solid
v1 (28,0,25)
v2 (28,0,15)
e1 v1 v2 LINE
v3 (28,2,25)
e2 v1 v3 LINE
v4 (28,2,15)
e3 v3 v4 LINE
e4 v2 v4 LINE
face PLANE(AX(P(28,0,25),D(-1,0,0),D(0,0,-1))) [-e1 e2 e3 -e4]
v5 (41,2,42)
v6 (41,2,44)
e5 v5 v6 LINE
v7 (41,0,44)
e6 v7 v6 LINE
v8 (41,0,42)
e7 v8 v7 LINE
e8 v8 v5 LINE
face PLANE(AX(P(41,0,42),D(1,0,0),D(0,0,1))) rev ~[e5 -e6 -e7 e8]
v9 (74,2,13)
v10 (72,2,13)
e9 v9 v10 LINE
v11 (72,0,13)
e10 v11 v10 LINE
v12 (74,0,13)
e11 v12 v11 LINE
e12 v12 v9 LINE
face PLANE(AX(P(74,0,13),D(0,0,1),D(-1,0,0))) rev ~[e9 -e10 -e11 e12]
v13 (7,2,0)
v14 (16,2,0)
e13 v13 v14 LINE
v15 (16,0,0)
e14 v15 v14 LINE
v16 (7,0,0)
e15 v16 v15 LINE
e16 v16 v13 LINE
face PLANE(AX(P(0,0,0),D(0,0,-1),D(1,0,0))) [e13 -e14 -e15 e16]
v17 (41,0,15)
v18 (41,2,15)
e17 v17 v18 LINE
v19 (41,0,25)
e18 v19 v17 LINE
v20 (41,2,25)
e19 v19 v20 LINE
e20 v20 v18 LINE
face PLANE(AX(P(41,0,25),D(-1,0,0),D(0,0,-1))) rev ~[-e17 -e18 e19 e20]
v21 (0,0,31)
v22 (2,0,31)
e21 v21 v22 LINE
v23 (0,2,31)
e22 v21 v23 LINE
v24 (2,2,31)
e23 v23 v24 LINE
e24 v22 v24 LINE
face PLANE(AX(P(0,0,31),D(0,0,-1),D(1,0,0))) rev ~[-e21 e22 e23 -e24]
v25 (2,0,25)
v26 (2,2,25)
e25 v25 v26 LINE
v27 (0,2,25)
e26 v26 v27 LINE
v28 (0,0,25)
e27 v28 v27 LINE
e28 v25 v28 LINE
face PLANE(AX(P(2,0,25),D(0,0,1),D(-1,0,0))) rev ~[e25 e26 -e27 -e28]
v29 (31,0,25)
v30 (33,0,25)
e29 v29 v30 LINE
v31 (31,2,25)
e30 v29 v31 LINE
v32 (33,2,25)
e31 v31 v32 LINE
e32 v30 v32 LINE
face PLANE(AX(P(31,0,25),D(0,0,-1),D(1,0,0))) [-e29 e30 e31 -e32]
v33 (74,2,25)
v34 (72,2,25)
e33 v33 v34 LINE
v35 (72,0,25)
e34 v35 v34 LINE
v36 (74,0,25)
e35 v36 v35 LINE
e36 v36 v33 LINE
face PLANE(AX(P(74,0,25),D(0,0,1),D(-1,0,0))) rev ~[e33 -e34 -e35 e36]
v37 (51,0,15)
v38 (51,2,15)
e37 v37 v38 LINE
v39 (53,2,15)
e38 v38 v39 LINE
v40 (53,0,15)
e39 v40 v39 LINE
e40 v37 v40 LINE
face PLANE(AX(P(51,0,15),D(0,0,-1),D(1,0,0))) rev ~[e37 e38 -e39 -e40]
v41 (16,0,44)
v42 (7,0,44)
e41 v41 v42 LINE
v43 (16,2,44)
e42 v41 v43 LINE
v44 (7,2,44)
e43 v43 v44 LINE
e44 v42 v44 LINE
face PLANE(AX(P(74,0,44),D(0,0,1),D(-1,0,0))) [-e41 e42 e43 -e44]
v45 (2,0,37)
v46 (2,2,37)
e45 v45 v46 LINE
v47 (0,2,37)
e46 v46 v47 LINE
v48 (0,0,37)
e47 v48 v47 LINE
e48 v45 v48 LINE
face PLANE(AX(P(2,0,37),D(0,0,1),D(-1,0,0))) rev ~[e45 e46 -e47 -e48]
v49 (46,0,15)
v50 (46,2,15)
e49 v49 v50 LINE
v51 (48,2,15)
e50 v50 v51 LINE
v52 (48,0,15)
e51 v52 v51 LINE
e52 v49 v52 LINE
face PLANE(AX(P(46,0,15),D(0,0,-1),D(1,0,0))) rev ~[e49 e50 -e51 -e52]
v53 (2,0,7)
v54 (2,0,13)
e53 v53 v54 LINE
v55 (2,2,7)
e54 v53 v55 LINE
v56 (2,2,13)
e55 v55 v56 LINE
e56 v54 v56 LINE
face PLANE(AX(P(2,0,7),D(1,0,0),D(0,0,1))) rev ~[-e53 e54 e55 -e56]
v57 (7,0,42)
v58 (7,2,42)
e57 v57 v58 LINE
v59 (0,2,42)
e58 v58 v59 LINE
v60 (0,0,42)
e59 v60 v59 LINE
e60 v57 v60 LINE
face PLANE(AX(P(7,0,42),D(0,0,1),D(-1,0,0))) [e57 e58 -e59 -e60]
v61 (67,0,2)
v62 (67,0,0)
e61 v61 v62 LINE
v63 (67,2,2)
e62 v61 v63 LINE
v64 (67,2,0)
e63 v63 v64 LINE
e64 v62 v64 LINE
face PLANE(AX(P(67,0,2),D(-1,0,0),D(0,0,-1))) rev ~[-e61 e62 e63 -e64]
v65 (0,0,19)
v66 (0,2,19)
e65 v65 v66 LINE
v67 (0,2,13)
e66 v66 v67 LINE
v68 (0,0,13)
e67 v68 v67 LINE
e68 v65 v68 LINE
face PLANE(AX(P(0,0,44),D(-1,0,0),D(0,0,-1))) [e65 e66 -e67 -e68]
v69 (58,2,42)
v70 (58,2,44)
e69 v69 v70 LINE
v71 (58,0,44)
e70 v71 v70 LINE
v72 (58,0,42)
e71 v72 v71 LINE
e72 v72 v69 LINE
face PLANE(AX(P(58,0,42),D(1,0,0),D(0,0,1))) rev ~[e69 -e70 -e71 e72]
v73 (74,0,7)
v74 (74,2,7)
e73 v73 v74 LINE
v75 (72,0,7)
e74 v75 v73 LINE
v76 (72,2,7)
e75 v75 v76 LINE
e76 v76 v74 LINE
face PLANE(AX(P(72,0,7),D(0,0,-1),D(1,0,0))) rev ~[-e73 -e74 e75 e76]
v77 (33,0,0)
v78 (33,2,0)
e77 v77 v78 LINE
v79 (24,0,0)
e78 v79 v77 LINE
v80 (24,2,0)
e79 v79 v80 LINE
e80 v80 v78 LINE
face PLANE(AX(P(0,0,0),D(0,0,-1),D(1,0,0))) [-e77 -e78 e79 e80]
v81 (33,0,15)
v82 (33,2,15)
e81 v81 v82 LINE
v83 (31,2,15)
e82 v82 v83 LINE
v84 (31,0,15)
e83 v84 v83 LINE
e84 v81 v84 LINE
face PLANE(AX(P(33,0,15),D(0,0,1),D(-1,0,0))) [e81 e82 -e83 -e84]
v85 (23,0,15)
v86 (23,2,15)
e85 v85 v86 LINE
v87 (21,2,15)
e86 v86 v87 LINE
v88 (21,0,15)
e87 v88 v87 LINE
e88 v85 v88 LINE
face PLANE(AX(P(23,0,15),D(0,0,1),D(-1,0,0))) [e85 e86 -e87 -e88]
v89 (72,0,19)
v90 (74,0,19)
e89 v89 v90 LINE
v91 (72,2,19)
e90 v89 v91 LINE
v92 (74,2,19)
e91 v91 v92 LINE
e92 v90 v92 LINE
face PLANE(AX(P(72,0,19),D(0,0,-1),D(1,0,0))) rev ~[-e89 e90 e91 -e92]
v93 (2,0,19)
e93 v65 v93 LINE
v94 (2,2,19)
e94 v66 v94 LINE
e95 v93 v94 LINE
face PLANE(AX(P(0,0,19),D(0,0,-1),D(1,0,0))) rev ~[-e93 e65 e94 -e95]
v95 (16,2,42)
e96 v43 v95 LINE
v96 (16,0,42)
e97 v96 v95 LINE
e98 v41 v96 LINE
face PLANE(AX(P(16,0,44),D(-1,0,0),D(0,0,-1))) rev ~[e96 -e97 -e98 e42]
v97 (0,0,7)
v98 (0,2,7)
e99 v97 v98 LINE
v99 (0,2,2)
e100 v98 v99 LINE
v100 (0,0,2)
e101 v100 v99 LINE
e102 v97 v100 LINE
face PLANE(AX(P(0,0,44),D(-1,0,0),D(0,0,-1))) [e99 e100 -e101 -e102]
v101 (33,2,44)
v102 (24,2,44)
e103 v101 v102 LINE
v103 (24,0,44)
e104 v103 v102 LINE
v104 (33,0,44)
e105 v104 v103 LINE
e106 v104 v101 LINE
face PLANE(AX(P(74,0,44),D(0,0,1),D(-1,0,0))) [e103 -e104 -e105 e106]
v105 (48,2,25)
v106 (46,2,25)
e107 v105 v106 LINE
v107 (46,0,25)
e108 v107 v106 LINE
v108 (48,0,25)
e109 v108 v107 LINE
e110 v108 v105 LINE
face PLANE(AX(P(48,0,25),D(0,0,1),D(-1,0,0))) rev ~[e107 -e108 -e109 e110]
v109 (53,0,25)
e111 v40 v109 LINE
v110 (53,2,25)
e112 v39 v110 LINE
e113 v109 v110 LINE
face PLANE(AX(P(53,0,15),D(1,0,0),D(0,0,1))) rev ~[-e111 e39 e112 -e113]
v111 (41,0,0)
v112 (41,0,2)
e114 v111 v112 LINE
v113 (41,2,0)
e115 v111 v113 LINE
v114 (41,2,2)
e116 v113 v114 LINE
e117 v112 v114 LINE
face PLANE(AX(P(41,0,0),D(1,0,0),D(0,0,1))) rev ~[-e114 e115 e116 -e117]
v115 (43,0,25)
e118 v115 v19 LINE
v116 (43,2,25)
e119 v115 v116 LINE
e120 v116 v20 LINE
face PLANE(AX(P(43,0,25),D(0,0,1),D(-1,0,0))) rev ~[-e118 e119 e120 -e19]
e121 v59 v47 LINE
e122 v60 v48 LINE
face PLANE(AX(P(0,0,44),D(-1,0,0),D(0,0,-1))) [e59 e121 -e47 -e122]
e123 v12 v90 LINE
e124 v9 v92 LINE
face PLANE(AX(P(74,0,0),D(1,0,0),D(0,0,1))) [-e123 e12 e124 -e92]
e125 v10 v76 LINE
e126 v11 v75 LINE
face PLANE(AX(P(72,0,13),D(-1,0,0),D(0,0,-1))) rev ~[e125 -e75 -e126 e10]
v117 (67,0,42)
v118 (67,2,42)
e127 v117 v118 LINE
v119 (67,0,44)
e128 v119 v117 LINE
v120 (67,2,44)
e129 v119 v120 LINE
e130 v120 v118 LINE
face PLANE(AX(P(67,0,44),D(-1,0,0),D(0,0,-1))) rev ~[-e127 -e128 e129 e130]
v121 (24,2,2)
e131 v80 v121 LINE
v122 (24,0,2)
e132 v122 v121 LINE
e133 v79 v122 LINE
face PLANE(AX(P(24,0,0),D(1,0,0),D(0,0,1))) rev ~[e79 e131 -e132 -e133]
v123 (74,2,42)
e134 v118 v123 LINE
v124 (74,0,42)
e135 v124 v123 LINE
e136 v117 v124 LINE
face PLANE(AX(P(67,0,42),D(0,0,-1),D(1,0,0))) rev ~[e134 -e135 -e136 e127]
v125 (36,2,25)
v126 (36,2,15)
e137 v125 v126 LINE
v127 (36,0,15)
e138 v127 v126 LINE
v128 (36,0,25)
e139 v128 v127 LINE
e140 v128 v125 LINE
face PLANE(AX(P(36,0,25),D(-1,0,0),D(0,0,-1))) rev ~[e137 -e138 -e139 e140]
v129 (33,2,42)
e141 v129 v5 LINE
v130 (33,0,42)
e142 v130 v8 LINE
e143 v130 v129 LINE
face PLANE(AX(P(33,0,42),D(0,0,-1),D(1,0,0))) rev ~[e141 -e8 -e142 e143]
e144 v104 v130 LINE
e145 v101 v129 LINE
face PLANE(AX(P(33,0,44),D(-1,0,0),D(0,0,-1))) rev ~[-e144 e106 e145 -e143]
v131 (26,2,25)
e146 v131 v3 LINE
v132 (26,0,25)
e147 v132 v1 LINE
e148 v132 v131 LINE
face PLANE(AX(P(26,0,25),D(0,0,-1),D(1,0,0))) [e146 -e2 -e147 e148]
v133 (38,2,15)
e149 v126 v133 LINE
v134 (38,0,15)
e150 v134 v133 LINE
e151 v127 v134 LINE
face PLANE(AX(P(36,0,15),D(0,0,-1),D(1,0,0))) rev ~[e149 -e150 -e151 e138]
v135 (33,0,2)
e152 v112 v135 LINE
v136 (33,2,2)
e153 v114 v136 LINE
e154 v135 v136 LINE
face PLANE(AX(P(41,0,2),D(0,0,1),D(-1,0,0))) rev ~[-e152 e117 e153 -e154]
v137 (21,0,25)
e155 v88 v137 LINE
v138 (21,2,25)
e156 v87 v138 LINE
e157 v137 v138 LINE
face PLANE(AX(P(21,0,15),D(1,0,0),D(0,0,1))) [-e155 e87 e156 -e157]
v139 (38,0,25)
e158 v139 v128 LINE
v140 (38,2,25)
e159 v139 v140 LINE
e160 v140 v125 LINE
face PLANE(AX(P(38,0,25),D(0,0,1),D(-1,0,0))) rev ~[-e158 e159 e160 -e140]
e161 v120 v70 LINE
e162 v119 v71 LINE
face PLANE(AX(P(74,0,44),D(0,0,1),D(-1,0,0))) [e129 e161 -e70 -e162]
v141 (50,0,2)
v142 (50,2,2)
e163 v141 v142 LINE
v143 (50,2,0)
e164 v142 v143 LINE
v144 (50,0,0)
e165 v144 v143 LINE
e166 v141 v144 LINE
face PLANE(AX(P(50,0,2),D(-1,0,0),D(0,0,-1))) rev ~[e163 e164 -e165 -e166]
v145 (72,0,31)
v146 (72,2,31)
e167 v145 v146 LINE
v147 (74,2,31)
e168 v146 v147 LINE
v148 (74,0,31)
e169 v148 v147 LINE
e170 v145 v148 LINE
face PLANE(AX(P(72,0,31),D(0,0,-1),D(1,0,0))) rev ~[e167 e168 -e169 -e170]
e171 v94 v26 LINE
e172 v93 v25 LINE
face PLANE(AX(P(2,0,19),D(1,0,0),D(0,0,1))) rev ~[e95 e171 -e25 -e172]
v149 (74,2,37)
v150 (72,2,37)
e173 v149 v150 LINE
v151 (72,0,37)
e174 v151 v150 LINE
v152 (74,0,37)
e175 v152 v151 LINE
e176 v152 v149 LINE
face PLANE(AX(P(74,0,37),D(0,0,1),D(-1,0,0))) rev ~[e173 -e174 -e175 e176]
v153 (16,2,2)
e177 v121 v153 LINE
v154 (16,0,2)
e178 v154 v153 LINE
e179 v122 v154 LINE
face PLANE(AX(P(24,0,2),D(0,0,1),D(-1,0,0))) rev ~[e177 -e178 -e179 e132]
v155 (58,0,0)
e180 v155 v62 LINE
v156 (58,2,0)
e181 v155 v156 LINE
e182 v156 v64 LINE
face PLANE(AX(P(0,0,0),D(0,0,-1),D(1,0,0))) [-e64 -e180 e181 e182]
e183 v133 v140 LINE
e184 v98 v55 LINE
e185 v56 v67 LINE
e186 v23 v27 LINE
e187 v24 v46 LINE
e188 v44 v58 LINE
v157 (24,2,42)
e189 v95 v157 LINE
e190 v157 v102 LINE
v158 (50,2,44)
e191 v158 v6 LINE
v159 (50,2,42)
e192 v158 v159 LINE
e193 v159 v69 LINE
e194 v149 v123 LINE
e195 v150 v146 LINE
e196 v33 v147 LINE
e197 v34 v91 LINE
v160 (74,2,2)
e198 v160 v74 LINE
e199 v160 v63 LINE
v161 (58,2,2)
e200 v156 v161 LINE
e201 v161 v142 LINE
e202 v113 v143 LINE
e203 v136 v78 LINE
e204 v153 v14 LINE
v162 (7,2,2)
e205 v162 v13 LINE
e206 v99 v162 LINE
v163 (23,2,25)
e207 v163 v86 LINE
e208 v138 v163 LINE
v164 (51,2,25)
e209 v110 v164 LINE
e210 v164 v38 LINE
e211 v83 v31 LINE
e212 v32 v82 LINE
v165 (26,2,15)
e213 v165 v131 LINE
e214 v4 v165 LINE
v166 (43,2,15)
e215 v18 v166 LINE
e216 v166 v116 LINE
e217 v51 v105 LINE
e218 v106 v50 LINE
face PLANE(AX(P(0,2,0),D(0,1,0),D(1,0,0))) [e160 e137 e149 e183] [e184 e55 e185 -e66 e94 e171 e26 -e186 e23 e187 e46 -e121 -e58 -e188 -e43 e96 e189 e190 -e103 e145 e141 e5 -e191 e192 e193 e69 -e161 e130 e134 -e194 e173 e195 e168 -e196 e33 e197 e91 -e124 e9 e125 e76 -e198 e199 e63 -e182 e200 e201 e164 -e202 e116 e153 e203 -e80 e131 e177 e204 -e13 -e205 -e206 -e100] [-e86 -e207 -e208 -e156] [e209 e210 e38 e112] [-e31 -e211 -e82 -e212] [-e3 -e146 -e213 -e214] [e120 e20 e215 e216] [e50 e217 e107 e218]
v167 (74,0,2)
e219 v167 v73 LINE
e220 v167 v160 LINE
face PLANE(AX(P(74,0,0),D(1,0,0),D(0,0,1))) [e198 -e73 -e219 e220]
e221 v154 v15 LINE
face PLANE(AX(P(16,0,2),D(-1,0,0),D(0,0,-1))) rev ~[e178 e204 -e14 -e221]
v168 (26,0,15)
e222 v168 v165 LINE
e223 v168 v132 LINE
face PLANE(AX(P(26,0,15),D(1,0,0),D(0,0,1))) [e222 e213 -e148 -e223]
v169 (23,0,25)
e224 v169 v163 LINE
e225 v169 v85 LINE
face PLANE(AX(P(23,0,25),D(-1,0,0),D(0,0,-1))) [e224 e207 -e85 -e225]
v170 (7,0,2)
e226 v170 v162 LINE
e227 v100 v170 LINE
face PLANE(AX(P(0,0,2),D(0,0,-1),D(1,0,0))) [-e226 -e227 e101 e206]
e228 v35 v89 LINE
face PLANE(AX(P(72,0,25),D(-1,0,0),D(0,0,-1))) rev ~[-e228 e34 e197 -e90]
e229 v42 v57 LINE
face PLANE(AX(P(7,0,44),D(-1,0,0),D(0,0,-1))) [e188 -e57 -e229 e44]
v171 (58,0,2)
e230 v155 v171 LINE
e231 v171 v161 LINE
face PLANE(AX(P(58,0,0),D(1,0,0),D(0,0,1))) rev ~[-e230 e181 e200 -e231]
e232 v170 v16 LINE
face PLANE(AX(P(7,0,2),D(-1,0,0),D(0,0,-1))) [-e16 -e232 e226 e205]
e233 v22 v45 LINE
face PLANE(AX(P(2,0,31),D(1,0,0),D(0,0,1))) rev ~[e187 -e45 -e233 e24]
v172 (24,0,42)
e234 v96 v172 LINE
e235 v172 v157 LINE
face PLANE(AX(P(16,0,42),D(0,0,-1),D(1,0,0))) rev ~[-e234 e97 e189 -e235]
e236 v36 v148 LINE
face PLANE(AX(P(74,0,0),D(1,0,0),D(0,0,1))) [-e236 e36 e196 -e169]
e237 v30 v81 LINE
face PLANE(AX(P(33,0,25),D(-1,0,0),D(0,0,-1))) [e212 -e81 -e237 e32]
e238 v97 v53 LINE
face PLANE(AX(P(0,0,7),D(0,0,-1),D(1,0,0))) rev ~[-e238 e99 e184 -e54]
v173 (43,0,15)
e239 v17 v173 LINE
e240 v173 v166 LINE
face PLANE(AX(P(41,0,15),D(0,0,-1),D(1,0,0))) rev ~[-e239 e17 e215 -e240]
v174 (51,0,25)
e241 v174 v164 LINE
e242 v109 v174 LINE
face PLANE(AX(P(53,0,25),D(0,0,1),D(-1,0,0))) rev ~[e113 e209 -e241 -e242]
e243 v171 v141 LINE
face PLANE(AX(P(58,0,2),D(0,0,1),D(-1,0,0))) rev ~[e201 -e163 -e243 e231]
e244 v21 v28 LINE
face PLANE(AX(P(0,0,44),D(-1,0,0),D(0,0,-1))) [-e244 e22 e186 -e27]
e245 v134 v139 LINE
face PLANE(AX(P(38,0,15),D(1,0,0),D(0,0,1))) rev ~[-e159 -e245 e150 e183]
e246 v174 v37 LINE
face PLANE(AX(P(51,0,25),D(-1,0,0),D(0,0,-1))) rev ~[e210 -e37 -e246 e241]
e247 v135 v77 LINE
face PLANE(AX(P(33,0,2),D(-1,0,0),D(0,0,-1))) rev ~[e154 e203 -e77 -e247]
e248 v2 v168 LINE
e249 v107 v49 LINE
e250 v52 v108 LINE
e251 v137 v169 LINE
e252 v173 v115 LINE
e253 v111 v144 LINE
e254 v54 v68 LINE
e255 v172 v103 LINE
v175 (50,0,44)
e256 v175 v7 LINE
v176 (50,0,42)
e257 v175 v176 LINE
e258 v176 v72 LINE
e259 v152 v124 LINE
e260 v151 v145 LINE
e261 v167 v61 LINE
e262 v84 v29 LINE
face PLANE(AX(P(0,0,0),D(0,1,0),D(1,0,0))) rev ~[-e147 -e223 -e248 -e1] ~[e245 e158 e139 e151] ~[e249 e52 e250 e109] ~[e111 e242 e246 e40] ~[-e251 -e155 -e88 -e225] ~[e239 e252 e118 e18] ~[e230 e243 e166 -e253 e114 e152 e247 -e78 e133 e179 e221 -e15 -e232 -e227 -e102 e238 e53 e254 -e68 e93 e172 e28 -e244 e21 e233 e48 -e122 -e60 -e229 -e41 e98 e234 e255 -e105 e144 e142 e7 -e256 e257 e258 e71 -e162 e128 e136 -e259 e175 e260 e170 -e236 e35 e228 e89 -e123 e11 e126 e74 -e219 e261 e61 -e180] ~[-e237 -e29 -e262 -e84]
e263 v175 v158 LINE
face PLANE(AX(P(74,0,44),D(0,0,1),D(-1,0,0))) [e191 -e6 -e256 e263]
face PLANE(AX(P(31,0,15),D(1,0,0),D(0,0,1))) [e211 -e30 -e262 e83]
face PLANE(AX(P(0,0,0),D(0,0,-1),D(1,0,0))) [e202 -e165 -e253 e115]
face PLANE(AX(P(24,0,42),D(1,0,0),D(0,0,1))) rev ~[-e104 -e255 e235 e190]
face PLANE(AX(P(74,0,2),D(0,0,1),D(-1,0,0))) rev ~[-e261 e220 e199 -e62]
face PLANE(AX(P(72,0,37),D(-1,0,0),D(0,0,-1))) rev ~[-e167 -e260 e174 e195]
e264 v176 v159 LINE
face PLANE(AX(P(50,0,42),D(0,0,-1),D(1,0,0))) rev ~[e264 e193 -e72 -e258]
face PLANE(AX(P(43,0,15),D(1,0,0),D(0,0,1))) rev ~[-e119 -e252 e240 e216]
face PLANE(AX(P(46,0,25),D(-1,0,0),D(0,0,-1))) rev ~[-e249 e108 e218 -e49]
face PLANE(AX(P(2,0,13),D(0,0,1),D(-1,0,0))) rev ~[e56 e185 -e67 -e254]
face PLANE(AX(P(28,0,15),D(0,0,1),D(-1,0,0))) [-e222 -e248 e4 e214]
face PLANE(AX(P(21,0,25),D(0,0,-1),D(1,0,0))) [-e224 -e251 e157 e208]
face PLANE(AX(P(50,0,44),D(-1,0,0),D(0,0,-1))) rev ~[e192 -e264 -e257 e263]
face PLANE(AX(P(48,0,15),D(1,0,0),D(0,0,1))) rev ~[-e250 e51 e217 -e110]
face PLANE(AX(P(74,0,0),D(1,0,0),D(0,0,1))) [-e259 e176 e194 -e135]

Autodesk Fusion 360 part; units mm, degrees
sketch "スケッチ1" plane through (0, 0, 0) normal (0, 1, 0) x (1, 0, 0)
  line L0 (0, 0) -> (74, 0)
  line L1 (74, 0) -> (74, -44)
  line L2 (74, -44) -> (0, -44)
  line L3 (0, -44) -> (0, 0)
  dimension "d1" = 74
  dimension "d2" = 44
extrude "押し出し1" add sketch "スケッチ1" along normal blind 2
sketch "スケッチ2" plane through (0, 0, 0) normal (0, -1, 0) x (1, 0, 0)
  line L0 (74, 44) -> (0, 44)
  line L1 (0, 44) -> (0, 0)
  line L2 (0, 0) -> (74, 0)
  line L3 (74, 0) -> (74, 44)
  line L4 (0, 44) -> (7, 44)
  line L5 (7, 44) -> (7, 42)
  line L6 (7, 42) -> (0, 42)
  line L7 (0, 42) -> (0, 44)
  line L8 (16, 42) -> (24, 42)
  line L9 (24, 42) -> (24, 44)
  line L10 (24, 44) -> (16, 44)
  line L11 (16, 44) -> (16, 42)
  line L12 (41, 44) -> (33, 44)
  line L13 (33, 42) -> (41, 42)
  line L14 (41, 42) -> (41, 44)
  line L15 (33, 44) -> (33, 42)
  line L16 (58, 44) -> (50, 44)
  line L17 (50, 42) -> (58, 42)
  line L18 (58, 42) -> (58, 44)
  line L19 (50, 44) -> (50, 42)
  line L20 (67, 42) -> (74, 42)
  line L21 (74, 42) -> (74, 44)
  line L22 (74, 44) -> (67, 44)
  line L23 (67, 44) -> (67, 42)
  line L24 (50, 2) -> (50, 0)
  line L25 (67, 2) -> (67, 0)
  line L26 (16, 0) -> (24, 0)
  line L27 (50, 0) -> (58, 0)
  line L28 (0, 2) -> (7, 2)
  line L29 (67, 0) -> (74, 0)
  line L30 (58, 0) -> (58, 2)
  line L31 (24, 2) -> (16, 2)
  line L32 (33, 2) -> (33, 0)
  line L33 (58, 2) -> (50, 2)
  line L34 (33, 0) -> (41, 0)
  line L35 (0, 0) -> (0, 2)
  line L36 (24, 0) -> (24, 2)
  line L37 (74, 2) -> (67, 2)
  line L38 (7, 2) -> (7, 0)
  line L39 (41, 0) -> (41, 2)
  line L40 (16, 2) -> (16, 0)
  line L41 (74, 0) -> (74, 2)
  line L42 (7, 0) -> (0, 0)
  line L43 (41, 2) -> (33, 2)
  dimension "d5" = 7
  dimension "d6" = 2
  dimension "d7" = 2
  dimension "d8" = 8
  dimension "d9" = 9
  dimension "d12" = 17
  dimension "d13" = 0
  dimension "d14" = 7
  dimension "d15" = 2
  dimension "d16" = 9
extrude "押し出し2" cut sketch "スケッチ2" against normal blind 2 contours L0 L3 L20 L21 L22 L23 | L0 L16 L17 L18 L19 | L2 L3 L25 L29 L37 L41 | L0 L12 L13 L14 L15 | L2 L24 L27 L30 L33 | L0 L8 L9 L10 L11 | L2 L32 L34 L39 L43 | L0 L1 L4 L5 L6 L7 | L2 L26 L31 L36 L40 | L1 L2 L28 L35 L38 L42
sketch "スケッチ3" plane through (0, 0, 0) normal (0, -1, 0) x (1, 0, 0)
  line L0 (33, 42) -> (33, 44)
  line L1 (33, 44) -> (24, 44)
  line L2 (24, 44) -> (24, 42)
  line L3 (24, 42) -> (16, 42)
  line L4 (16, 42) -> (16, 44)
  line L5 (16, 44) -> (7, 44)
  line L6 (7, 44) -> (7, 42)
  line L7 (7, 42) -> (0, 42)
  line L8 (0, 42) -> (0, 2)
  line L9 (0, 2) -> (7, 2)
  line L10 (7, 2) -> (7, 0)
  line L11 (7, 0) -> (16, 0)
  line L12 (16, 0) -> (16, 2)
  line L13 (16, 2) -> (24, 2)
  line L14 (24, 2) -> (24, 0)
  line L15 (24, 0) -> (33, 0)
  line L16 (33, 0) -> (33, 2)
  line L17 (33, 2) -> (41, 2)
  line L18 (41, 2) -> (41, 0)
  line L19 (41, 0) -> (50, 0)
  line L20 (50, 0) -> (50, 2)
  line L21 (50, 2) -> (58, 2)
  line L22 (58, 2) -> (58, 0)
  line L23 (58, 0) -> (67, 0)
  line L24 (67, 0) -> (67, 2)
  line L25 (67, 2) -> (74, 2)
  line L26 (74, 2) -> (74, 42)
  line L27 (74, 42) -> (67, 42)
  line L28 (67, 42) -> (67, 44)
  line L29 (67, 44) -> (58, 44)
  line L30 (58, 44) -> (58, 42)
  line L31 (58, 42) -> (50, 42)
  line L32 (50, 42) -> (50, 44)
  line L33 (50, 44) -> (41, 44)
  line L34 (41, 44) -> (41, 42)
  line L35 (41, 42) -> (33, 42)
  line L36 (2, 37) -> (0, 37)
  line L37 (0, 37) -> (0, 31)
  line L38 (0, 31) -> (2, 31)
  line L39 (2, 31) -> (2, 37)
  line L40 (0, 19) -> (2, 19)
  line L41 (0, 25) -> (0, 19)
  line L42 (2, 25) -> (0, 25)
  line L43 (2, 19) -> (2, 25)
  line L44 (0, 7) -> (2, 7)
  line L45 (0, 13) -> (0, 7)
  line L46 (2, 13) -> (0, 13)
  line L47 (2, 7) -> (2, 13)
  line L48 (72, 31) -> (74, 31)
  line L49 (74, 37) -> (72, 37)
  line L50 (74, 25) -> (72, 25)
  line L51 (72, 37) -> (72, 31)
  line L52 (72, 19) -> (74, 19)
  line L53 (72, 7) -> (74, 7)
  line L54 (74, 19) -> (74, 25)
  line L55 (72, 25) -> (72, 19)
  line L56 (74, 7) -> (74, 13)
  line L57 (74, 31) -> (74, 37)
  line L58 (72, 13) -> (72, 7)
  line L59 (74, 13) -> (72, 13)
  dimension "d23" = 7
  dimension "d24" = 6
  dimension "d25" = 2
  dimension "d28" = 0
  dimension "d29" = -12
  dimension "d30" = 7
  dimension "d33" = 72
  dimension "d34" = 0
extrude "押し出し3" cut sketch "スケッチ3" against normal blind 2 contours L8 L36 L37 L38 L39 | L26 L48 L49 L51 L57 | L8 L40 L41 L42 L43 | L26 L50 L52 L54 L55 | L8 L44 L45 L46 L47 | L26 L53 L56 L58 L59
sketch "スケッチ4" plane through (0, 0, 0) normal (0, -1, 0) x (1, 0, 0)
  line L0 (2, 31) -> (0, 31)
  line L1 (0, 31) -> (0, 25)
  line L2 (0, 25) -> (2, 25)
  line L3 (2, 25) -> (2, 19)
  line L4 (2, 19) -> (0, 19)
  line L5 (0, 19) -> (0, 13)
  line L6 (0, 13) -> (2, 13)
  line L7 (2, 13) -> (2, 7)
  line L8 (2, 7) -> (0, 7)
  line L9 (0, 7) -> (0, 2)
  line L10 (0, 2) -> (7, 2)
  line L11 (7, 2) -> (7, 0)
  line L12 (7, 0) -> (16, 0)
  line L13 (16, 0) -> (16, 2)
  line L14 (16, 2) -> (24, 2)
  line L15 (24, 2) -> (24, 0)
  line L16 (24, 0) -> (33, 0)
  line L17 (33, 0) -> (33, 2)
  line L18 (33, 2) -> (41, 2)
  line L19 (41, 2) -> (41, 0)
  line L20 (41, 0) -> (50, 0)
  line L21 (50, 0) -> (50, 2)
  line L22 (50, 2) -> (58, 2)
  line L23 (58, 2) -> (58, 0)
  line L24 (58, 0) -> (67, 0)
  line L25 (67, 0) -> (67, 2)
  line L26 (67, 2) -> (74, 2)
  line L27 (74, 2) -> (74, 7)
  line L28 (74, 7) -> (72, 7)
  line L29 (72, 7) -> (72, 13)
  line L30 (72, 13) -> (74, 13)
  line L31 (74, 13) -> (74, 19)
  line L32 (74, 19) -> (72, 19)
  line L33 (72, 19) -> (72, 25)
  line L34 (72, 25) -> (74, 25)
  line L35 (74, 25) -> (74, 31)
  line L36 (74, 31) -> (72, 31)
  line L37 (72, 31) -> (72, 37)
  line L38 (72, 37) -> (74, 37)
  line L39 (74, 37) -> (74, 42)
  line L40 (74, 42) -> (67, 42)
  line L41 (67, 42) -> (67, 44)
  line L42 (67, 44) -> (58, 44)
  line L43 (58, 44) -> (58, 42)
  line L44 (58, 42) -> (50, 42)
  line L45 (50, 42) -> (50, 44)
  line L46 (50, 44) -> (41, 44)
  line L47 (41, 44) -> (41, 42)
  line L48 (41, 42) -> (33, 42)
  line L49 (33, 42) -> (33, 44)
  line L50 (33, 44) -> (24, 44)
  line L51 (24, 44) -> (24, 42)
  line L52 (24, 42) -> (16, 42)
  line L53 (16, 42) -> (16, 44)
  line L54 (16, 44) -> (7, 44)
  line L55 (7, 44) -> (7, 42)
  line L56 (7, 42) -> (0, 42)
  line L57 (0, 42) -> (0, 37)
  line L58 (0, 37) -> (2, 37)
  line L59 (2, 37) -> (2, 31)
  line L60 (36, 15) -> (38, 15)
  line L61 (38, 15) -> (38, 25)
  line L62 (38, 25) -> (36, 25)
  line L63 (36, 25) -> (36, 15)
  line L64 (33, 15) -> (31, 15)
  line L65 (31, 15) -> (31, 25)
  line L66 (31, 25) -> (33, 25)
  line L67 (33, 25) -> (33, 15)
  line L68 (28, 15) -> (26, 15)
  line L69 (26, 15) -> (26, 25)
  line L70 (26, 25) -> (28, 25)
  line L71 (28, 25) -> (28, 15)
  line L72 (41, 15) -> (43, 15)
  line L73 (43, 15) -> (43, 25)
  line L74 (43, 25) -> (41, 25)
  line L75 (41, 25) -> (41, 15)
  line L76 (46, 15) -> (48, 15)
  line L77 (48, 15) -> (48, 25)
  line L78 (48, 25) -> (46, 25)
  line L79 (46, 25) -> (46, 15)
  line L80 (23, 15) -> (21, 15)
  line L81 (21, 15) -> (21, 25)
  line L82 (21, 25) -> (23, 25)
  line L83 (23, 25) -> (23, 15)
  line L84 (51, 15) -> (53, 15)
  line L85 (53, 15) -> (53, 25)
  line L86 (53, 25) -> (51, 25)
  line L87 (51, 25) -> (51, 15)
extrude "押し出し4" cut sketch "スケッチ4" against normal blind 2 contours L60 L61 L62 L63 | L64 L65 L66 L67 | L68 L69 L70 L71 | L72 L73 L74 L75 | L76 L77 L78 L79 | L80 L81 L82 L83 | L84 L85 L86 L87
sketch "スケッチ5" plane through (0, 0, 0) normal (0, -1, 0) x (1, 0, 0)
  line L0 (31, 15) -> (31, 25)
  line L1 (31, 25) -> (33, 25)
  line L2 (33, 25) -> (33, 15)
  line L3 (33, 15) -> (31, 15)
  line L4 (38, 15) -> (36, 15)
  line L5 (36, 15) -> (36, 25)
  line L6 (36, 25) -> (38, 25)
  line L7 (38, 25) -> (38, 15)
  line L8 (26, 15) -> (26, 25)
  line L9 (26, 25) -> (28, 25)
  line L10 (28, 25) -> (28, 15)
  line L11 (28, 15) -> (26, 15)
  line L12 (21, 15) -> (21, 25)
  line L13 (21, 25) -> (23, 25)
  line L14 (23, 25) -> (23, 15)
  line L15 (23, 15) -> (21, 15)
  line L16 (48, 15) -> (46, 15)
  line L17 (46, 15) -> (46, 25)
  line L18 (46, 25) -> (48, 25)
  line L19 (48, 25) -> (48, 15)
  line L20 (43, 15) -> (41, 15)
  line L21 (41, 15) -> (41, 25)
  line L22 (41, 25) -> (43, 25)
  line L23 (43, 25) -> (43, 15)
  line L24 (53, 15) -> (51, 15)
  line L25 (51, 15) -> (51, 25)
  line L26 (51, 25) -> (53, 25)
  line L27 (53, 25) -> (53, 15)
  line L28 (2, 31) -> (0, 31)
  line L29 (0, 31) -> (0, 25)
  line L30 (0, 25) -> (2, 25)
  line L31 (2, 25) -> (2, 19)
  line L32 (2, 19) -> (0, 19)
  line L33 (0, 19) -> (0, 13)
  line L34 (0, 13) -> (2, 13)
  line L35 (2, 13) -> (2, 7)
  line L36 (2, 7) -> (0, 7)
  line L37 (0, 7) -> (0, 2)
  line L38 (0, 2) -> (7, 2)
  line L39 (7, 2) -> (7, 0)
  line L40 (7, 0) -> (16, 0)
  line L41 (16, 0) -> (16, 2)
  line L42 (16, 2) -> (24, 2)
  line L43 (24, 2) -> (24, 0)
  line L44 (24, 0) -> (33, 0)
  line L45 (33, 0) -> (33, 2)
  line L46 (33, 2) -> (41, 2)
  line L47 (41, 2) -> (41, 0)
  line L48 (41, 0) -> (50, 0)
  line L49 (50, 0) -> (50, 2)
  line L50 (50, 2) -> (58, 2)
  line L51 (58, 2) -> (58, 0)
  line L52 (58, 0) -> (67, 0)
  line L53 (67, 0) -> (67, 2)
  line L54 (67, 2) -> (74, 2)
  line L55 (74, 2) -> (74, 7)
  line L56 (74, 7) -> (72, 7)
  line L57 (72, 7) -> (72, 13)
  line L58 (72, 13) -> (74, 13)
  line L59 (74, 13) -> (74, 19)
  line L60 (74, 19) -> (72, 19)
  line L61 (72, 19) -> (72, 25)
  line L62 (72, 25) -> (74, 25)
  line L63 (74, 25) -> (74, 31)
  line L64 (74, 31) -> (72, 31)
  line L65 (72, 31) -> (72, 37)
  line L66 (72, 37) -> (74, 37)
  line L67 (74, 37) -> (74, 42)
  line L68 (74, 42) -> (67, 42)
  line L69 (67, 42) -> (67, 44)
  line L70 (67, 44) -> (58, 44)
  line L71 (58, 44) -> (58, 42)
  line L72 (58, 42) -> (50, 42)
  line L73 (50, 42) -> (50, 44)
  line L74 (50, 44) -> (41, 44)
  line L75 (41, 44) -> (41, 42)
  line L76 (41, 42) -> (33, 42)
  line L77 (33, 42) -> (33, 44)
  line L78 (33, 44) -> (24, 44)
  line L79 (24, 44) -> (24, 42)
  line L80 (24, 42) -> (16, 42)
  line L81 (16, 42) -> (16, 44)
  line L82 (16, 44) -> (7, 44)
  line L83 (7, 44) -> (7, 42)
  line L84 (7, 42) -> (0, 42)
  line L85 (0, 42) -> (0, 37)
  line L86 (0, 37) -> (2, 37)
  line L87 (2, 37) -> (2, 31)
